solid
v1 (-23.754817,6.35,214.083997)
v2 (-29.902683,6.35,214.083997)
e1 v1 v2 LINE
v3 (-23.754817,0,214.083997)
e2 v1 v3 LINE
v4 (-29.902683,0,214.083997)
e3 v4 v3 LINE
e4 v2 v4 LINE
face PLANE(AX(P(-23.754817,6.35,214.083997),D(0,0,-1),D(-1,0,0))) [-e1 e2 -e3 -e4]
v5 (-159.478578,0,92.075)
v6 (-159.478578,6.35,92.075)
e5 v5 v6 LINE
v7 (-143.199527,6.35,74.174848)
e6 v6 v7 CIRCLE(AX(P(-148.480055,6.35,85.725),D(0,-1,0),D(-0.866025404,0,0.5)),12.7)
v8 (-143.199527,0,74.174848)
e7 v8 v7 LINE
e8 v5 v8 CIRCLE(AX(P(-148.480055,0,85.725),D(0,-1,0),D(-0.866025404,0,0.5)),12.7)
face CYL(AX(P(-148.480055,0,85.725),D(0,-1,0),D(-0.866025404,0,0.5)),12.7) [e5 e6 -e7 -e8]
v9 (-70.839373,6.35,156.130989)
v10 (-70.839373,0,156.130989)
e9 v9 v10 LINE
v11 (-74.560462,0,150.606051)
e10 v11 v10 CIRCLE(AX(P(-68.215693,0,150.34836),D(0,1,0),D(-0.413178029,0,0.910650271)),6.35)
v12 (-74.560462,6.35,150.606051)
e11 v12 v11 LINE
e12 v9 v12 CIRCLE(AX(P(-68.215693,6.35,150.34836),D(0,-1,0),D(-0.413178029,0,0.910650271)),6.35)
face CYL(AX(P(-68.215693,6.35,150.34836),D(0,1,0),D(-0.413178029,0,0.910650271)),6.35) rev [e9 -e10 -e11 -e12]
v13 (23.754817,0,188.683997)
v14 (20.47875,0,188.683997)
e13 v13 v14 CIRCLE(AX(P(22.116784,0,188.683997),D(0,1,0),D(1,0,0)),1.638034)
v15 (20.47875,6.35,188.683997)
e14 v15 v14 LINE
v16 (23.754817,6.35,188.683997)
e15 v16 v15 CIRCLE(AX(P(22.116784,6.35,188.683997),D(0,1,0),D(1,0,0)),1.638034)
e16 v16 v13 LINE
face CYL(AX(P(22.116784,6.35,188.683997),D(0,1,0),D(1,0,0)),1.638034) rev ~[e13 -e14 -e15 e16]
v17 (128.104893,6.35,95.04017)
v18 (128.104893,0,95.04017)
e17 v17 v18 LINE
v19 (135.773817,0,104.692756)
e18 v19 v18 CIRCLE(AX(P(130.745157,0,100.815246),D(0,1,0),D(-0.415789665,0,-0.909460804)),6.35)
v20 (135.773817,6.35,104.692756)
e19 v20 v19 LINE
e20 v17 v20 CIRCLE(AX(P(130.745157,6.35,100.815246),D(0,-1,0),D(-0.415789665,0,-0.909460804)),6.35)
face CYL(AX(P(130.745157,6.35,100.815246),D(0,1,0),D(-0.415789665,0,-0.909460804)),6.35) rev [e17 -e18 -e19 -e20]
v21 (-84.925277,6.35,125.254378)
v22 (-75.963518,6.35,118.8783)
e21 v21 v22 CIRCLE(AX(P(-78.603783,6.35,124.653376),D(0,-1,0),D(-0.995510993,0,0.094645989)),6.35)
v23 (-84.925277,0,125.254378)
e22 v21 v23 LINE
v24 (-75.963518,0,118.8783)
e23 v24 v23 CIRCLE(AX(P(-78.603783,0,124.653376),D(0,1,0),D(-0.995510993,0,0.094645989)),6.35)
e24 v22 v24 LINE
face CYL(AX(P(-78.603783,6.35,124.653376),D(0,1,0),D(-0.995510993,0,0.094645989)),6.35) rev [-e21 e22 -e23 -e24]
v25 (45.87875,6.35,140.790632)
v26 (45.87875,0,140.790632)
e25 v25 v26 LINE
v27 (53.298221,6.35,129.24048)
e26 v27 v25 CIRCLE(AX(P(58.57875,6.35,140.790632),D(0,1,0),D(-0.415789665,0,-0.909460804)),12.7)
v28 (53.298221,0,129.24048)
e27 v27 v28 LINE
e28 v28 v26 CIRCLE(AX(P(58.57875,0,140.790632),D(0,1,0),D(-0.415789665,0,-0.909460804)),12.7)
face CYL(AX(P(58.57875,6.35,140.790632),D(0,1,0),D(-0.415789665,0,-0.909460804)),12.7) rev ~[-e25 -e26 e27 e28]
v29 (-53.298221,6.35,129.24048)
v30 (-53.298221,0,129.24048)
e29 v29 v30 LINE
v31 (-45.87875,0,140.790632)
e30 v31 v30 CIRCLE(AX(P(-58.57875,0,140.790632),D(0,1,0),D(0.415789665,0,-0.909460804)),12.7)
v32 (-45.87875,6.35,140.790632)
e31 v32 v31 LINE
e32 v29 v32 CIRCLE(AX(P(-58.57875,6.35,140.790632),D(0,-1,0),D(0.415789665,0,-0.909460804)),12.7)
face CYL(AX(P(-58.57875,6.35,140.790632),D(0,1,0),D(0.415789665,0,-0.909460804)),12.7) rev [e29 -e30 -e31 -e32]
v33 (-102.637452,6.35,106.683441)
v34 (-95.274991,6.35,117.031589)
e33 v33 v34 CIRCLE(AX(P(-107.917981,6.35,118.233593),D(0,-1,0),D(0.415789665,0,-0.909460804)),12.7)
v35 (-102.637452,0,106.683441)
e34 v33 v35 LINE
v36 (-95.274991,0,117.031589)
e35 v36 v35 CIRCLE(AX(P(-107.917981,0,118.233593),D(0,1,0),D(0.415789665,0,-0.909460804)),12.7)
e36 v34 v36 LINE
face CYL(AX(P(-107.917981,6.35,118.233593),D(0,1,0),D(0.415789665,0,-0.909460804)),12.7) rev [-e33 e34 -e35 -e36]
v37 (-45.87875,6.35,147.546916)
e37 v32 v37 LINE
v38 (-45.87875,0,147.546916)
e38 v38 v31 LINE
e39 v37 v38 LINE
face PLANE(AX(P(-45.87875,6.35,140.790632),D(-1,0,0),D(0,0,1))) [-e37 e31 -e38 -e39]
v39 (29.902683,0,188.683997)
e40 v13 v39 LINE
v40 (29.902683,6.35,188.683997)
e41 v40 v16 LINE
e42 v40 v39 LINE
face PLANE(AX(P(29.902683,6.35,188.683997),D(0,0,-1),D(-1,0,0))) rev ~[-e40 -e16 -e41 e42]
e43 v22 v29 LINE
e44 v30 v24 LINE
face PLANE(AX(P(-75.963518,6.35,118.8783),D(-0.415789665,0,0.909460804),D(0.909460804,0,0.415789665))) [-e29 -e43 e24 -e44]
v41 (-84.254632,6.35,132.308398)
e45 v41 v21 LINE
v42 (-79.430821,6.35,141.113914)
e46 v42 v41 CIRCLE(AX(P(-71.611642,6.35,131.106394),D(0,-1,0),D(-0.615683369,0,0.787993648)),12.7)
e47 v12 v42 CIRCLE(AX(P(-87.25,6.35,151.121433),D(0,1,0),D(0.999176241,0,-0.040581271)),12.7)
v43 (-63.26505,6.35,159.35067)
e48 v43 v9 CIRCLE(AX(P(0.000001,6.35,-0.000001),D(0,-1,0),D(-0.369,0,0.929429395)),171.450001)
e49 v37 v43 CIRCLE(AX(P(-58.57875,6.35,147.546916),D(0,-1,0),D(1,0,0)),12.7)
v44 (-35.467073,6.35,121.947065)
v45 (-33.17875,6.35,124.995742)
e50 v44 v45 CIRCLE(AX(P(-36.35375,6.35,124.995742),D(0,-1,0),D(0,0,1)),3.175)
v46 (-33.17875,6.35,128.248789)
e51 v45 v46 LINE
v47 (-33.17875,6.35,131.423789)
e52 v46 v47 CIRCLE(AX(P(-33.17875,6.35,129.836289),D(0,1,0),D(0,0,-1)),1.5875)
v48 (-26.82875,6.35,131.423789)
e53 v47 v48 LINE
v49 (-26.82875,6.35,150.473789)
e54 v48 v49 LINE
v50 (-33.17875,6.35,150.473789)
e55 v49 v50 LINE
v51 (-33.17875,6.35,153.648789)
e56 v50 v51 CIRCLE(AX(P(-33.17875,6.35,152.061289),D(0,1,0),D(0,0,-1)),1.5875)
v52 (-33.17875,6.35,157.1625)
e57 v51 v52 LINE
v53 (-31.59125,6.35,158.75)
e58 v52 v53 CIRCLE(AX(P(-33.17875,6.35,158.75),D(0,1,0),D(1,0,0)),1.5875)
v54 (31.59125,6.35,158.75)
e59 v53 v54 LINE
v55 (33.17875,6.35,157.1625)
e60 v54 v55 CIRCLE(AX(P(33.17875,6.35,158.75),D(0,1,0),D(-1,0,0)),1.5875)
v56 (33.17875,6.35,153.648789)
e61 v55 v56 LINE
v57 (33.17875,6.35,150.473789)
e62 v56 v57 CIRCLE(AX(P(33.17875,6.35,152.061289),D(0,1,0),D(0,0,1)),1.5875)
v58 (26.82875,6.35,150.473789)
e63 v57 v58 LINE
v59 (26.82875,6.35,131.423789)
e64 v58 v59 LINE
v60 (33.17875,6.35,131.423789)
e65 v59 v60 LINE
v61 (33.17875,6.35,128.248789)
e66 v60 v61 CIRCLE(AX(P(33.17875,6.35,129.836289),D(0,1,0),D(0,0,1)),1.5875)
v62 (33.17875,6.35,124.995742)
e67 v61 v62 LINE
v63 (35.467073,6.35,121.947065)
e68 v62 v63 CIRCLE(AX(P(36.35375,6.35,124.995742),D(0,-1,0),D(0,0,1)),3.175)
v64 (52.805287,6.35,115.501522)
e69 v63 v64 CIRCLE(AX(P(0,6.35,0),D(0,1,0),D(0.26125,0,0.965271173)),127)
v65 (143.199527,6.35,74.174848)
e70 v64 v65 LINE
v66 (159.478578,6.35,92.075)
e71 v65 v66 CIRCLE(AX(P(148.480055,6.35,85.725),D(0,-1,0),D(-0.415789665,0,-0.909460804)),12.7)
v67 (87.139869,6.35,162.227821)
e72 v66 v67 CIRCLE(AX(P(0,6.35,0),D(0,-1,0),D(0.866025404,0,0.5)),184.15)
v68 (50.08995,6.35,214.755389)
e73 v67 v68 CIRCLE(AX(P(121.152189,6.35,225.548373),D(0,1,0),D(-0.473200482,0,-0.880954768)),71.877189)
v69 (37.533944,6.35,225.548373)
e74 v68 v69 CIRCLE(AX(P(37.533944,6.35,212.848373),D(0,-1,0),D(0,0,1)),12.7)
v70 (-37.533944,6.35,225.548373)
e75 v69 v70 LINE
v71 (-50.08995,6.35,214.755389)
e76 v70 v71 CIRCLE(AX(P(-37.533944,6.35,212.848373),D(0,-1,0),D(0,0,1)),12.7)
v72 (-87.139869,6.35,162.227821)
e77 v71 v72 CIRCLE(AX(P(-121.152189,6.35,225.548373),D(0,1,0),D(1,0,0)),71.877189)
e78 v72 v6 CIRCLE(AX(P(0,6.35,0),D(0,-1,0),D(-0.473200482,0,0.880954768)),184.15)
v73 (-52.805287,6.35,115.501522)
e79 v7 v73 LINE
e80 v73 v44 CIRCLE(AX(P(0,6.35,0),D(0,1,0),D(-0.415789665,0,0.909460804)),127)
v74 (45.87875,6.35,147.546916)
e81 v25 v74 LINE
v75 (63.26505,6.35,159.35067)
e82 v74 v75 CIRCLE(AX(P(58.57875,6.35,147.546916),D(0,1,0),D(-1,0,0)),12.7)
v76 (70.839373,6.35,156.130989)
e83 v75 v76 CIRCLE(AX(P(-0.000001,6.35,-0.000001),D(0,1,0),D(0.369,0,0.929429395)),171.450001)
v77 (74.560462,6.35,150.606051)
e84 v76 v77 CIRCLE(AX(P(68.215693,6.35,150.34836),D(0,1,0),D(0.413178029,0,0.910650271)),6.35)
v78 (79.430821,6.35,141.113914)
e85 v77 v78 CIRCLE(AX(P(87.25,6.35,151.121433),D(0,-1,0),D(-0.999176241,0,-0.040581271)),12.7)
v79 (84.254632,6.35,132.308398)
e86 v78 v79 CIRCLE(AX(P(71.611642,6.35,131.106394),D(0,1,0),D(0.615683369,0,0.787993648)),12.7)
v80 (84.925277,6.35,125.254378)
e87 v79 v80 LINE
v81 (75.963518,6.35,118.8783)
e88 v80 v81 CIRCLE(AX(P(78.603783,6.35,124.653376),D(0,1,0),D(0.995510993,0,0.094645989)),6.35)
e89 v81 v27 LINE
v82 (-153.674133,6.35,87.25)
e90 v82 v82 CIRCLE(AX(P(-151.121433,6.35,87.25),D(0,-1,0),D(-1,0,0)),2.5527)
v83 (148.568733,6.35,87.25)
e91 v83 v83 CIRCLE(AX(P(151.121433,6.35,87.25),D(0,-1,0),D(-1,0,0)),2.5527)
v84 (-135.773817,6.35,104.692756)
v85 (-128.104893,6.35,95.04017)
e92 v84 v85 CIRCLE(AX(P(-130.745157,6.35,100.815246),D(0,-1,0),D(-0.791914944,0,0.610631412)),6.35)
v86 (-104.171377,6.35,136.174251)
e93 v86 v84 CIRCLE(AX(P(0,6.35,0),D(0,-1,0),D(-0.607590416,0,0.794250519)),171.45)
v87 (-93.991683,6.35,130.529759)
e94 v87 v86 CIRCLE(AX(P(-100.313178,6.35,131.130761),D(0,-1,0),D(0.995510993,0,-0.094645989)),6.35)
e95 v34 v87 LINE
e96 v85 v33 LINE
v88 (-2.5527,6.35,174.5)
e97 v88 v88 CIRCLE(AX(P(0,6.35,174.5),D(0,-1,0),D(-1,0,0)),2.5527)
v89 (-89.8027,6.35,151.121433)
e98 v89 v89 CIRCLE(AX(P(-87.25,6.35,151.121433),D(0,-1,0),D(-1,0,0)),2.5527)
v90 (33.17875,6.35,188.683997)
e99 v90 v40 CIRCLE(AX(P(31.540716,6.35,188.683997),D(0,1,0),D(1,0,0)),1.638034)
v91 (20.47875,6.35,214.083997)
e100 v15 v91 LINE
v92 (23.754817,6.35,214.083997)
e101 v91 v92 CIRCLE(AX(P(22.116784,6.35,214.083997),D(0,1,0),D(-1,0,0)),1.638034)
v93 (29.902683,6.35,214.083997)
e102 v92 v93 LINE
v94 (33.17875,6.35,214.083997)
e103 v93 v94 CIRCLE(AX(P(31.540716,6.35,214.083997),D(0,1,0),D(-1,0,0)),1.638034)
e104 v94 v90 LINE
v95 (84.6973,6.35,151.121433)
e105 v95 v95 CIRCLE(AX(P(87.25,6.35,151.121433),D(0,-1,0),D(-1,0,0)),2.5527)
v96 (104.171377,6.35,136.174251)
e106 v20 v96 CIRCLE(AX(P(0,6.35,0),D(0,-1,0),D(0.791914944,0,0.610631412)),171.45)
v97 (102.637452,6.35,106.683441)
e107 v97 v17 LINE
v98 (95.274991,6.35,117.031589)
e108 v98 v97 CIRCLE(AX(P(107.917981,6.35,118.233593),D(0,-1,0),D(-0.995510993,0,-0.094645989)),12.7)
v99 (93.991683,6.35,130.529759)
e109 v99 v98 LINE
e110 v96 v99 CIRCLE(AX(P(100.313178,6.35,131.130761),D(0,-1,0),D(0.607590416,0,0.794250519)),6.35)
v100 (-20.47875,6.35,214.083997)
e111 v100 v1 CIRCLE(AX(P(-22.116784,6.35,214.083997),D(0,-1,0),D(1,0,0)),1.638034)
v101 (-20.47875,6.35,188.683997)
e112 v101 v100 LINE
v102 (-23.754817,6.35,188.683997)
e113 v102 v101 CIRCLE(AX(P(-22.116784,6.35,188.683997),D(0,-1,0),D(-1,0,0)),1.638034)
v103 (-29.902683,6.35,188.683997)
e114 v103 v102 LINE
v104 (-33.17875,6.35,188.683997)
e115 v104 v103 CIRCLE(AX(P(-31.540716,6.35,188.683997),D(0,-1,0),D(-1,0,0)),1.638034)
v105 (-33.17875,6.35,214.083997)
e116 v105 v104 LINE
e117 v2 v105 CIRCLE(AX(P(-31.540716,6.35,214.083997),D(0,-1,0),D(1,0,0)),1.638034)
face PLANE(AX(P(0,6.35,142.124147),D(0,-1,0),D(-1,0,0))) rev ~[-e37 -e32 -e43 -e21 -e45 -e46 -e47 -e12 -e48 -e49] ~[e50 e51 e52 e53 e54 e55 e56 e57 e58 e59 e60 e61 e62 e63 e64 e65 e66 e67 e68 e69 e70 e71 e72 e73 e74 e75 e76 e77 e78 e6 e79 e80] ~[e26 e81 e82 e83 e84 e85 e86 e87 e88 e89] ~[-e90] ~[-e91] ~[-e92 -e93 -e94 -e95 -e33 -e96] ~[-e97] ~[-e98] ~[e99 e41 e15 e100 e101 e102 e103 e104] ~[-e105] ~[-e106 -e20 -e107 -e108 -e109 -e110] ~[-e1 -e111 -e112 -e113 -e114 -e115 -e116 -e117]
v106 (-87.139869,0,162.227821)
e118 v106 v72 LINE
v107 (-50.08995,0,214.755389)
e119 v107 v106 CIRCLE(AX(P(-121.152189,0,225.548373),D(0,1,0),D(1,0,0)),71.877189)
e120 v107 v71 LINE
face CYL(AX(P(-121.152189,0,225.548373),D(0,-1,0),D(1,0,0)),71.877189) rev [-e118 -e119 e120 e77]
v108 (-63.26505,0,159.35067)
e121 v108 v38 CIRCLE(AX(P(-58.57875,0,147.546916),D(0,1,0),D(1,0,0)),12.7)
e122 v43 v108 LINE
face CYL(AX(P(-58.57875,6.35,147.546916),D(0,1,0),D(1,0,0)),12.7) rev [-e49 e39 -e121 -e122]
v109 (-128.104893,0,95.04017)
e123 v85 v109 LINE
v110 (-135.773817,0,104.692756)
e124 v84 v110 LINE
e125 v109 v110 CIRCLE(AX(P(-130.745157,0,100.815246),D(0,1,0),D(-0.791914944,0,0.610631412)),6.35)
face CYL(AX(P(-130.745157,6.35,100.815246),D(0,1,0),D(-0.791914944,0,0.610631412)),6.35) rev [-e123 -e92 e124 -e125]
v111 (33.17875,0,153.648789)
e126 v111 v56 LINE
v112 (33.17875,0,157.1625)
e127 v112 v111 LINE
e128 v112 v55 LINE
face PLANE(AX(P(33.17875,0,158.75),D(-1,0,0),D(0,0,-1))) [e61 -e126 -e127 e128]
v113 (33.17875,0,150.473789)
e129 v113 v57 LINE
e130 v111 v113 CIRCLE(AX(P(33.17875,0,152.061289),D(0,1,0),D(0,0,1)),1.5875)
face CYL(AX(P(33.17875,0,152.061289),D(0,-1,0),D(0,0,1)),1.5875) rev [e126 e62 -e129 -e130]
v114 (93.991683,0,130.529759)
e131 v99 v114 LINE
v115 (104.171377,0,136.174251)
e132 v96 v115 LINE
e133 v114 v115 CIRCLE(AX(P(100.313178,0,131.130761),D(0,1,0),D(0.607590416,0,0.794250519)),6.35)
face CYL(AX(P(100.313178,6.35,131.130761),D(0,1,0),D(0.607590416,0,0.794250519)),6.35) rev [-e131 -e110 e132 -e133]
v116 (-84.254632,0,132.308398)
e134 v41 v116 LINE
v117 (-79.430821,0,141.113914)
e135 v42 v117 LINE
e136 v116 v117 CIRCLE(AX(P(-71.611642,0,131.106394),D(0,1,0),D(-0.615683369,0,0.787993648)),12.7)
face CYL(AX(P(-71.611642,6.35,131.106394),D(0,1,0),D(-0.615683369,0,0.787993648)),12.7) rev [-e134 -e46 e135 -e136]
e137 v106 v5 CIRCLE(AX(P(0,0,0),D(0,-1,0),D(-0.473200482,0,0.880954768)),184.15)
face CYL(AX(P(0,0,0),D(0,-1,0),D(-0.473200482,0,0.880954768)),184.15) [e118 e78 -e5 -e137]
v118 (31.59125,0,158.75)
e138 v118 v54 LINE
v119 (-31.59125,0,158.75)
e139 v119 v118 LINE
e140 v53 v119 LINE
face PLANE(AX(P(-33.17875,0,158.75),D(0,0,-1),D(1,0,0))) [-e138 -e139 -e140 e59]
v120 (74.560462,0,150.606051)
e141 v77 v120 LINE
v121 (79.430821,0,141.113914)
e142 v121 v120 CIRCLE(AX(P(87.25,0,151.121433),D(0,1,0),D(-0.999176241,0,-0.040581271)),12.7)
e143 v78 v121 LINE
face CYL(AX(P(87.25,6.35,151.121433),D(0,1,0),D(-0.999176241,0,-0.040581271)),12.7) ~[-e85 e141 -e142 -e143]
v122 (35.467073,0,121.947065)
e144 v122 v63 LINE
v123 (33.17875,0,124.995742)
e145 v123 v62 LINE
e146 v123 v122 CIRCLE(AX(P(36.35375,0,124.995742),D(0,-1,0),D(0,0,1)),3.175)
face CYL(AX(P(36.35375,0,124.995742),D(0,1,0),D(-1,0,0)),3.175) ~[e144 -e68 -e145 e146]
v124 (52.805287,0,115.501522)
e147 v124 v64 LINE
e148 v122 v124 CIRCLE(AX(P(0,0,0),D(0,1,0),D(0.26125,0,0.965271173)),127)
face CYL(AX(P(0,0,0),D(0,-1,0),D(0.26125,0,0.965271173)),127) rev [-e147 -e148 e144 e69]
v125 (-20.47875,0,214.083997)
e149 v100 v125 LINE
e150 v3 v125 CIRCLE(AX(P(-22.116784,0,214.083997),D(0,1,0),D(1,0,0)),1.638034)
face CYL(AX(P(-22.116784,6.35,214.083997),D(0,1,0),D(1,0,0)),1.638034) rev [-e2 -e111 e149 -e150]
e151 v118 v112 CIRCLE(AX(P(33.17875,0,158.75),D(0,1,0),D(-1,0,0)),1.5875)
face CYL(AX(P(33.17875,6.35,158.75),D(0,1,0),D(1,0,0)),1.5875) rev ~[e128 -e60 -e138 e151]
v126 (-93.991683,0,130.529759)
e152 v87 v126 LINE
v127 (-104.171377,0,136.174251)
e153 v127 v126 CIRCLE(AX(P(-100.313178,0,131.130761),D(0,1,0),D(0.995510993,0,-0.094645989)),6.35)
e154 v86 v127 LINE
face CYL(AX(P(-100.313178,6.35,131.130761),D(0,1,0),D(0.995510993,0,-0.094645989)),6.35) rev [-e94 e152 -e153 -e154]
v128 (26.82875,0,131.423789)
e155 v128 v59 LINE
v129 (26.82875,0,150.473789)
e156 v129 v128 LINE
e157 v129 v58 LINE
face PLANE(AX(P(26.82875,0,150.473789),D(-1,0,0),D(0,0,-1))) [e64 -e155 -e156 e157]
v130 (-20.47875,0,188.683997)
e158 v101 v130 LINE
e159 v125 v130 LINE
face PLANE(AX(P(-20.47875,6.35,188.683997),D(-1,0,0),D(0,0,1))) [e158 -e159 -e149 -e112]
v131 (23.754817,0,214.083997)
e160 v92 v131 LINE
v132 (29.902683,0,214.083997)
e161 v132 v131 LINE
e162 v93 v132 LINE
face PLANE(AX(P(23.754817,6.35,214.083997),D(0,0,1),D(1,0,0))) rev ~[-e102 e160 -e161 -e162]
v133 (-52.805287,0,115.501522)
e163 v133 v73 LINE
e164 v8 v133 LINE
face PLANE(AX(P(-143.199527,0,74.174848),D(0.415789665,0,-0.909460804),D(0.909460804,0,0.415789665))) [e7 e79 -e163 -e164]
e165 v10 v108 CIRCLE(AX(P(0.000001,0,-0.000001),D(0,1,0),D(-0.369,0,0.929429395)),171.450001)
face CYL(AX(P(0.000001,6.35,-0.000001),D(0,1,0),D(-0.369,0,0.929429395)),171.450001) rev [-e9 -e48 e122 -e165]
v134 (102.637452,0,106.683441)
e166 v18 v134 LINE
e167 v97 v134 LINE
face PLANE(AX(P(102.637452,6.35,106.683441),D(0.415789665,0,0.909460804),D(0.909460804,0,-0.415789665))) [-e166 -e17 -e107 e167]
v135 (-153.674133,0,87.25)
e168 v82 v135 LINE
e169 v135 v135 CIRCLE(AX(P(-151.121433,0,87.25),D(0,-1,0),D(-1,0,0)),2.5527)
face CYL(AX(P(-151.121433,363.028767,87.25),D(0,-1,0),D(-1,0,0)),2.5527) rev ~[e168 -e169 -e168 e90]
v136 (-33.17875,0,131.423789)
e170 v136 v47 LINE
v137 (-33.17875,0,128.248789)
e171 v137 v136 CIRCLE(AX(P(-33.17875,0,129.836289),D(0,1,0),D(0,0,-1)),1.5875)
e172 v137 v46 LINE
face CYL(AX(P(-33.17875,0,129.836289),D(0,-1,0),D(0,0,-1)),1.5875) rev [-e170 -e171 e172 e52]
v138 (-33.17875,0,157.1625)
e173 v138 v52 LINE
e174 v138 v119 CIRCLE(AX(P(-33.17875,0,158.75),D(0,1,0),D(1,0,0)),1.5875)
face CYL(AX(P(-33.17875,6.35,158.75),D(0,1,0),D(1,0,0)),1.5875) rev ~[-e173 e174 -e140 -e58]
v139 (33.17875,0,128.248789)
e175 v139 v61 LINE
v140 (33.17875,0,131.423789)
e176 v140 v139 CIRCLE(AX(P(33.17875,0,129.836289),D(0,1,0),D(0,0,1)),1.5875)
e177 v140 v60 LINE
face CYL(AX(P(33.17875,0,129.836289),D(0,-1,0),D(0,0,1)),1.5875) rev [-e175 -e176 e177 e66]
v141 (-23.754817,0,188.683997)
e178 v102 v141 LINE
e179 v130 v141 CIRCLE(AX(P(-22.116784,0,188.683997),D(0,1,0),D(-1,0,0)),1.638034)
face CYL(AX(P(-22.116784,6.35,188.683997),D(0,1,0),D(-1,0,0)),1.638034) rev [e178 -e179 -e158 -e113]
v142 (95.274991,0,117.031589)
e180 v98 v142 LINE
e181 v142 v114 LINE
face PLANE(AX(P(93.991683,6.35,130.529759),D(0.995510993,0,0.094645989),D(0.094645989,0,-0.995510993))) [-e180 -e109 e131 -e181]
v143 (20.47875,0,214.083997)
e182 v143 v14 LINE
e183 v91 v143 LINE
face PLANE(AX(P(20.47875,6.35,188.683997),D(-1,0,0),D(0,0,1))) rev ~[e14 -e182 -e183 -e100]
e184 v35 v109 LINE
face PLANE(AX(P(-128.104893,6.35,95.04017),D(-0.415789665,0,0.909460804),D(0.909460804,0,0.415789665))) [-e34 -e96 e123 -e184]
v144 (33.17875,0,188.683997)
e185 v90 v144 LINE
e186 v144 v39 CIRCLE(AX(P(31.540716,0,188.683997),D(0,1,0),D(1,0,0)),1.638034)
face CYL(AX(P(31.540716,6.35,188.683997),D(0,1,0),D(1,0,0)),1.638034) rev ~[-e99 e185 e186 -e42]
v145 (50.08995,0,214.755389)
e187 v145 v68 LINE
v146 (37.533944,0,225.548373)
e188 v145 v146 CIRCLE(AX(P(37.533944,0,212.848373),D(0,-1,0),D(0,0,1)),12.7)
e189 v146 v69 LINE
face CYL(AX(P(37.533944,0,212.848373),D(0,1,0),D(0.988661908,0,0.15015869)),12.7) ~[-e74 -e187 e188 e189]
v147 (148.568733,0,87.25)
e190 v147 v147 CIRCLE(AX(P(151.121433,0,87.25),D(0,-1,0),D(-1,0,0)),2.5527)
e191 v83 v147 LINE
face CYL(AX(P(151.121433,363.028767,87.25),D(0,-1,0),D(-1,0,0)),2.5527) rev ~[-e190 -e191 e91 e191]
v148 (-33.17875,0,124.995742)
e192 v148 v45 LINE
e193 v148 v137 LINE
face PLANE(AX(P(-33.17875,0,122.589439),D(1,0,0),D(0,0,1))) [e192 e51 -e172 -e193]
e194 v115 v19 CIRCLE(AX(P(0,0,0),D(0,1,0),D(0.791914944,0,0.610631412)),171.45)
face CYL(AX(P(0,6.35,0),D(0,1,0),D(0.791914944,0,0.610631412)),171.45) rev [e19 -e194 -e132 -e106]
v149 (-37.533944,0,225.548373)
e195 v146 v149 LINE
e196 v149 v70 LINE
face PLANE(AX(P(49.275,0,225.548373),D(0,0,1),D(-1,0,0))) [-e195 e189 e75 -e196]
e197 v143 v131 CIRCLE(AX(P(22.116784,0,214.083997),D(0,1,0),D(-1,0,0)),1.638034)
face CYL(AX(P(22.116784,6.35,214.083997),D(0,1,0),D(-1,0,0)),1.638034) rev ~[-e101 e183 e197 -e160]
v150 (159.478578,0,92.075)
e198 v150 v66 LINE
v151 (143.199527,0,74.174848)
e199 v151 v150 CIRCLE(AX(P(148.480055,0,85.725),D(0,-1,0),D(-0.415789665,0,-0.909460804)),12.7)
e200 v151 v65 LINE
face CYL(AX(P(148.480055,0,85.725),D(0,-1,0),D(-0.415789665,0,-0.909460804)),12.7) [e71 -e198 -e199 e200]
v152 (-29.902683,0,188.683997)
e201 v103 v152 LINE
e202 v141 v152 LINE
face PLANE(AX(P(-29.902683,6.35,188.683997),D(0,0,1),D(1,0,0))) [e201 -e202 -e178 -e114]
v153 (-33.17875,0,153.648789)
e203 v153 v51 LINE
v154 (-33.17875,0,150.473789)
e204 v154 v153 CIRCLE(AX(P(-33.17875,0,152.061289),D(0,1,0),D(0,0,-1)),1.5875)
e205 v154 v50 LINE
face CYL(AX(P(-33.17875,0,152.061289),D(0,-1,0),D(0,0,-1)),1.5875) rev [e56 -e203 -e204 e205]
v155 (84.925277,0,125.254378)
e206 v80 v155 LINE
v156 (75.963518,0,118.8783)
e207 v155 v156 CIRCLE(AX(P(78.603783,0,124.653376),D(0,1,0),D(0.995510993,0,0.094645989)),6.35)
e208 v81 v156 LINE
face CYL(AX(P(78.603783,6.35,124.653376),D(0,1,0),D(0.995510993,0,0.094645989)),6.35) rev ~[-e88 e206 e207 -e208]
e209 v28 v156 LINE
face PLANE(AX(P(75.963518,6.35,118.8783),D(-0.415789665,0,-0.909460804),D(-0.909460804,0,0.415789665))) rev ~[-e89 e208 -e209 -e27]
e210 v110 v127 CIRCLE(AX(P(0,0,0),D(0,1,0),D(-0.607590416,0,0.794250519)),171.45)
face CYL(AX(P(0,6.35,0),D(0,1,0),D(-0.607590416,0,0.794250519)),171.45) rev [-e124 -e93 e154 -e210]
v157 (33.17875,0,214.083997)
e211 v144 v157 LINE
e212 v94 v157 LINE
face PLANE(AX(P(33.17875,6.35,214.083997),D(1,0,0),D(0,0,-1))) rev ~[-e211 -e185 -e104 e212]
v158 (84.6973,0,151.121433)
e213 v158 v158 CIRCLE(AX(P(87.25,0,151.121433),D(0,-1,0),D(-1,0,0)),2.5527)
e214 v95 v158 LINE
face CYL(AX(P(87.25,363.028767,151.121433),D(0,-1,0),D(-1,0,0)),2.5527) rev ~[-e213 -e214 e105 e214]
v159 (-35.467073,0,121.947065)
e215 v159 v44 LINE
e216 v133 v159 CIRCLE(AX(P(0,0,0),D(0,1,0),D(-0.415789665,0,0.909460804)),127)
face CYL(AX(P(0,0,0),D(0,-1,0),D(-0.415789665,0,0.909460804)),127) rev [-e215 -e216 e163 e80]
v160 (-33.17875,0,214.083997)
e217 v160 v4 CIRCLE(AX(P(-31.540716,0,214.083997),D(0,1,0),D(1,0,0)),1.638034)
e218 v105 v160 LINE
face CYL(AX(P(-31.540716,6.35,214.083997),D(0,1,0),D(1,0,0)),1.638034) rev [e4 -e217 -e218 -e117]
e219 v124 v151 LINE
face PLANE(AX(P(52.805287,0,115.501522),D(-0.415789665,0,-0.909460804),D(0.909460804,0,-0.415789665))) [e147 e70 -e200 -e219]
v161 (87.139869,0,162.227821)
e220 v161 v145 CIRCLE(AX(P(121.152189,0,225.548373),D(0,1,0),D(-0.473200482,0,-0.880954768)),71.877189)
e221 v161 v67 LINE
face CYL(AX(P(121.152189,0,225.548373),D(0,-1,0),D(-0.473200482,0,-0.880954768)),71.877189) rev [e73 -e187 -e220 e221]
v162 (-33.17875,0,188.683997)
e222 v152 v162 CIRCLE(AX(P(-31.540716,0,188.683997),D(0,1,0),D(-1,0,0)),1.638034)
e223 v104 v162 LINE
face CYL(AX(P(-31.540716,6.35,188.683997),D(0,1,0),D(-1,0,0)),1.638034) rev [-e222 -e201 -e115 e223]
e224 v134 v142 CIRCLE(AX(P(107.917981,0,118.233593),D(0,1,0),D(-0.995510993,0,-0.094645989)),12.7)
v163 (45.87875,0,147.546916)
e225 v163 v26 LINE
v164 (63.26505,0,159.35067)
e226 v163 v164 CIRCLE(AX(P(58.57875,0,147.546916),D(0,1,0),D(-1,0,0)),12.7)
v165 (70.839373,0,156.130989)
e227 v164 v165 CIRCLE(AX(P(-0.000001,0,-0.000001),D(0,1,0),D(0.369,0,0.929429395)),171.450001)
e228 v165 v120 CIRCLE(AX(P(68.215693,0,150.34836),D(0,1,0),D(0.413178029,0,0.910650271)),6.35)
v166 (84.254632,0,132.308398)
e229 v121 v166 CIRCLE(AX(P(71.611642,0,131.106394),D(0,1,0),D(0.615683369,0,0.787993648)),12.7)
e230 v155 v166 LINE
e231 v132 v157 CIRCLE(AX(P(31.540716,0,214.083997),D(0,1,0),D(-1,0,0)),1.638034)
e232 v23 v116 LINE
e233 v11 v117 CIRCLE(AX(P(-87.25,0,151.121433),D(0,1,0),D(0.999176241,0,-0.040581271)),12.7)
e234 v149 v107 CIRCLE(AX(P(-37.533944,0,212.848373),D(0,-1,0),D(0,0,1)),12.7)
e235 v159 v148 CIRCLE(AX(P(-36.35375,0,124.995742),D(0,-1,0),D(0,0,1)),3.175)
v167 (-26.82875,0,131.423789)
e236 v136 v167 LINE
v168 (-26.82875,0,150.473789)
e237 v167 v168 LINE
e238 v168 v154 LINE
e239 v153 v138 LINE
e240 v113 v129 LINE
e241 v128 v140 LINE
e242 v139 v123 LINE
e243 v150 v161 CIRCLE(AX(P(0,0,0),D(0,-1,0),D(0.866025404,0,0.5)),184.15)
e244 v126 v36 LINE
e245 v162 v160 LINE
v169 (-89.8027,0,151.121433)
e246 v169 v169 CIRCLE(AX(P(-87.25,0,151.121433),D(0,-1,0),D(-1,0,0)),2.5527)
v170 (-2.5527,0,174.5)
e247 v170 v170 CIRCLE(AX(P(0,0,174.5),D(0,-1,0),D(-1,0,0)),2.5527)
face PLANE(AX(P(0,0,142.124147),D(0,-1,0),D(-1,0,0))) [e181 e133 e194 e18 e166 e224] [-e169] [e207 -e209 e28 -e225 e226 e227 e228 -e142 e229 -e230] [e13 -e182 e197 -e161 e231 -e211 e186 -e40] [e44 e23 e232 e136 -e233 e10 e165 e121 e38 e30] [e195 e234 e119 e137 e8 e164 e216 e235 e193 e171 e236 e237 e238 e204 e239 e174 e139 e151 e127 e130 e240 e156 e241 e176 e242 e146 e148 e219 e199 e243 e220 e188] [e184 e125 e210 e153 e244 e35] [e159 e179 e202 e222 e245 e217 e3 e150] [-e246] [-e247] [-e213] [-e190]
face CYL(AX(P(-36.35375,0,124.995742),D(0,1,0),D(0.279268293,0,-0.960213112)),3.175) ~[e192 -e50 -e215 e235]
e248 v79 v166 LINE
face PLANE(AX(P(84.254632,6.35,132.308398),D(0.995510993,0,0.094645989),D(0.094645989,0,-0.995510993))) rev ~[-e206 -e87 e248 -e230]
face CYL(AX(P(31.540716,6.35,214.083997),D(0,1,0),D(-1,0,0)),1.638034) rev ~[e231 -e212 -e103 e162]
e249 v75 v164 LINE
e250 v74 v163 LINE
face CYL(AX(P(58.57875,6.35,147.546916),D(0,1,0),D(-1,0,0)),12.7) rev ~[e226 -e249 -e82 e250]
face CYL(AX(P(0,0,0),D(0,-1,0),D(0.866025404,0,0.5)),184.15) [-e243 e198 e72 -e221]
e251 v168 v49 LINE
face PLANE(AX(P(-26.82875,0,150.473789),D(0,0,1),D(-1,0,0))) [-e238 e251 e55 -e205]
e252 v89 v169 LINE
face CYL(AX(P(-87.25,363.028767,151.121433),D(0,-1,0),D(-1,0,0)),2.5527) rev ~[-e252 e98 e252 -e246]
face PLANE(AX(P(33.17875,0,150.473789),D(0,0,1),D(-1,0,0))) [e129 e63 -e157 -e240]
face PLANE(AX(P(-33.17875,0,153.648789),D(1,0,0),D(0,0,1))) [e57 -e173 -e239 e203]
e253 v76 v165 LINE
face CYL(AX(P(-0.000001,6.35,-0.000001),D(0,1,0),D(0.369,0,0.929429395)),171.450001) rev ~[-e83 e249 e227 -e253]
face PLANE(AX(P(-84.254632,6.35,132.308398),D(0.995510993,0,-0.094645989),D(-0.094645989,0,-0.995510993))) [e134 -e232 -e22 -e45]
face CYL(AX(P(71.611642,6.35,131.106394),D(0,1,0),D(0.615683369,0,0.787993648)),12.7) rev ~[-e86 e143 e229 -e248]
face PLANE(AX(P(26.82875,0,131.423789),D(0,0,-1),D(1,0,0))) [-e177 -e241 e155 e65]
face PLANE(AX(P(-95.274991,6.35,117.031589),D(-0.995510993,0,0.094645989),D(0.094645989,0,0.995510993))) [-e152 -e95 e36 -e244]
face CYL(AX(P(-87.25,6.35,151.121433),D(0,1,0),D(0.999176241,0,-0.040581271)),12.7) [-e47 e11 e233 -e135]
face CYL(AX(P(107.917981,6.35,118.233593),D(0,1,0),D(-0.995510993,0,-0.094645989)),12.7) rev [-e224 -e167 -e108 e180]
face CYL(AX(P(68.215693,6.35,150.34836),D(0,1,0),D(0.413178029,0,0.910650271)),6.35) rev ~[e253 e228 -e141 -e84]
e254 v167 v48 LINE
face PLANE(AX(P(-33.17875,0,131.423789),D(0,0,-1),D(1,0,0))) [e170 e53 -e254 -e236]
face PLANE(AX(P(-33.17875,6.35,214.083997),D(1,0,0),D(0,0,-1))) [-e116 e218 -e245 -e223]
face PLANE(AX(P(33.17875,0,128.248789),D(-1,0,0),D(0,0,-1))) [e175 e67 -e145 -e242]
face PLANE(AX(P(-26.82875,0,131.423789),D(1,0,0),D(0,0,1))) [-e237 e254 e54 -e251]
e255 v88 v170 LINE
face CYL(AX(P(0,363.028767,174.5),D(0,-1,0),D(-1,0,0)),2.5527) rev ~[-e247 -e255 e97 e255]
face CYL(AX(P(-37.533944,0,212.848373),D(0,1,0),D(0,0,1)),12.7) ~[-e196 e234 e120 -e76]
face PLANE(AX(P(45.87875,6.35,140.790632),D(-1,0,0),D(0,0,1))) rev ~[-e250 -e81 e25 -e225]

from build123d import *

# Parameters (mm, degrees)
BOSS_EXTRUDE1_DEPTH    = 6.35
FILLET4_R              = 3.175
F_10_CLEARANCE_HOLE1_D = 5.1054
CUT_EXTRUDE1_DEPTH     = 278.292988553
FILLET5_R              = 12.7
SKETCH5_R              = 1.5875
CUT_EXTRUDE2_DEPTH     = 278.292988553
CUT_EXTRUDE3_DEPTH     = 278.292988553


with BuildPart() as part:
    # Sketch1 → Boss-Extrude1 (new body)
    with BuildSketch(Plane(origin=(0, 0, 0), x_dir=(1, 0, 0), z_dir=(0, 1, 0))):
        with BuildLine():
            Line((33.17875, -158.75), (33.17875, -153.648789236))
            ThreePointArc((33.17875, -153.648789236), (34.76625, -152.061289236), (33.17875, -150.473789236))
            Line((33.17875, -150.473789236), (26.82875, -150.473789236))
            Line((26.82875, -150.473789236), (26.82875, -131.423789236))
            Line((26.82875, -131.423789236), (33.17875, -131.423789236))
            ThreePointArc((33.17875, -131.423789236), (34.76625, -129.836289236), (33.17875, -128.248789236))
            Line((33.17875, -128.248789236), (33.17875, -122.589438976))
            ThreePointArc((33.17875, -122.589438976), (43.137840894, -119.449264054), (52.805287488, -115.501522126))
            Line((52.805287488, -115.501522126), (143.19952673, -74.174847787))
            ThreePointArc((143.19952673, -74.174847787), (157.875678173, -77.180277992), (159.478578107, -92.075))
            ThreePointArc((159.478578107, -92.075), (128.201088688, -132.195700986), (87.13986874, -162.227820598))
            ThreePointArc((87.13986874, -162.227820598), (59.463291006, -188.659212722), (49.275, -225.54837334))
            Line((49.275, -225.54837334), (-49.275, -225.54837334))
            ThreePointArc((-49.275, -225.54837334), (-59.463291006, -188.659212722), (-87.13986874, -162.227820598))
            ThreePointArc((-87.13986874, -162.227820598), (-128.201088688, -132.195700986), (-159.478578107, -92.075))
            ThreePointArc((-159.478578107, -92.075), (-157.875678173, -77.180277992), (-143.19952673, -74.174847787))
            Line((-143.19952673, -74.174847787), (-52.805287488, -115.501522126))
            ThreePointArc((-52.805287488, -115.501522126), (-43.137840894, -119.449264054), (-33.17875, -122.589438976))
            Line((-33.17875, -122.589438976), (-33.17875, -128.248789236))
            ThreePointArc((-33.17875, -128.248789236), (-34.76625, -129.836289236), (-33.17875, -131.423789236))
            Line((-33.17875, -131.423789236), (-26.82875, -131.423789236))
            Line((-26.82875, -131.423789236), (-26.82875, -150.473789236))
            Line((-26.82875, -150.473789236), (-33.17875, -150.473789236))
            ThreePointArc((-33.17875, -150.473789236), (-34.76625, -152.061289236), (-33.17875, -153.648789236))
            Line((-33.17875, -153.648789236), (-33.17875, -158.75))
            Line((-33.17875, -158.75), (33.17875, -158.75))
        make_face()
    extrude(amount=BOSS_EXTRUDE1_DEPTH)

    # Fillet4
    fillet4_edges = [part.edges().sort_by_distance(p)[0] for p in [
        (33.17875, 3.175, 122.589438976),
        (-33.17875, 3.175, 122.589438976),
    ]]
    fillet(fillet4_edges, radius=FILLET4_R)

    # #10 Clearance Hole1 (through all)
    with Locations(Plane(origin=(0, 6.35, 0), x_dir=(1, 0, 0), z_dir=(0, 1, 0))):
        with Locations((-151.12143296, -87.25), (-87.25, -151.12143296), (87.25, -151.12143296), (151.12143296, -87.25), (0, -174.5)):
            Hole(F_10_CLEARANCE_HOLE1_D / 2)

    # Sketch4 → Cut-Extrude1 (cut, through all)
    with BuildSketch(Plane(origin=(0, 6.35, 0), x_dir=(1, 0, 0), z_dir=(0, 1, 0))):
        with BuildLine():
            Line((-23.754817001, -214.08399668), (-29.902682999, -214.08399668))
            ThreePointArc((-29.902682999, -214.08399668), (-31.540716499, -215.722030181), (-33.17875, -214.08399668))
            Line((-33.17875, -214.08399668), (-33.17875, -188.68399668))
            ThreePointArc((-33.17875, -188.68399668), (-31.540716499, -187.045963179), (-29.902682999, -188.68399668))
            Line((-29.902682999, -188.68399668), (-23.754817001, -188.68399668))
            ThreePointArc((-23.754817001, -188.68399668), (-22.116783501, -187.045963179), (-20.47875, -188.68399668))
            Line((-20.47875, -188.68399668), (-20.47875, -214.08399668))
            ThreePointArc((-20.47875, -214.08399668), (-22.116783501, -215.722030181), (-23.754817001, -214.08399668))
        make_face()
        with BuildLine():
            Line((23.754817001, -214.08399668), (29.902682999, -214.08399668))
            ThreePointArc((29.902682999, -214.08399668), (31.540716499, -215.722030181), (33.17875, -214.08399668))
            Line((33.17875, -214.08399668), (33.17875, -188.68399668))
            ThreePointArc((33.17875, -188.68399668), (31.540716499, -187.045963179), (29.902682999, -188.68399668))
            Line((29.902682999, -188.68399668), (23.754817001, -188.68399668))
            ThreePointArc((23.754817001, -188.68399668), (22.116783501, -187.045963179), (20.47875, -188.68399668))
            Line((20.47875, -188.68399668), (20.47875, -214.08399668))
            ThreePointArc((20.47875, -214.08399668), (22.116783501, -215.722030181), (23.754817001, -214.08399668))
        make_face()
    extrude(amount=-CUT_EXTRUDE1_DEPTH, mode=Mode.SUBTRACT)

    # Fillet5
    fillet5_edges = [part.edges().sort_by_distance(p)[0] for p in [
        (-49.275, 3.175, 225.54837334),
        (49.275, 3.175, 225.54837334),
    ]]
    fillet(fillet5_edges, radius=FILLET5_R)

    # Sketch5 → Cut-Extrude2 (cut, through all)
    with BuildSketch(Plane(origin=(0, 6.35, 0), x_dir=(1, 0, 0), z_dir=(0, 1, 0))):
        with Locations((33.17875, -158.75)):
            Circle(SKETCH5_R)
        with Locations((-33.17875, -158.75)):
            Circle(SKETCH5_R)
    extrude(amount=-CUT_EXTRUDE2_DEPTH, mode=Mode.SUBTRACT)

    # Sketch6 → Cut-Extrude3 (cut, through all)
    with BuildSketch(Plane(origin=(0, 6.35, 0), x_dir=(1, 0, 0), z_dir=(0, 1, 0))):
        with BuildLine():
            Line((-128.104892872, -95.040170045), (-102.637452085, -106.683441126))
            ThreePointArc((-102.637452085, -106.683441126), (-97.569832685, -110.871132479), (-95.274991225, -117.031589274))
            Line((-95.274991225, -117.031589274), (-93.991682853, -130.529758616))
            ThreePointArc((-93.991682853, -130.529758616), (-97.23388696, -136.684180208), (-104.171376798, -136.174251443))
            ThreePointArc((-104.171376798, -136.174251443), (-121.000806478, -121.465663179), (-135.773817141, -104.692755619))
            ThreePointArc((-135.773817141, -104.692755619), (-135.716998993, -96.865146197), (-128.104892872, -95.040170045))
        make_face()
        with BuildLine():
            Line((75.963518128, -118.878299904), (53.298221251, -129.240479515))
            ThreePointArc((53.298221251, -129.240479515), (47.89341624, -133.926693904), (45.87875, -140.790631728))
            Line((45.87875, -140.790631728), (45.87875, -147.546916431))
            ThreePointArc((45.87875, -147.546916431), (51.445237892, -158.054199858), (63.26505, -159.350669746))
            ThreePointArc((63.26505, -159.350669746), (67.071533898, -157.786285337), (70.839373095, -156.130988979))
            ThreePointArc((70.839373095, -156.130988979), (73.48252349, -153.895611155), (74.56046174, -150.606050825))
            ThreePointArc((74.56046174, -150.606050825), (75.950573651, -145.323764103), (79.430821218, -141.113913629))
            ThreePointArc((79.430821218, -141.113913629), (82.749836121, -137.208085982), (84.254632043, -132.308398362))
            Line((84.254632043, -132.308398362), (84.925277307, -125.254378043))
            ThreePointArc((84.925277307, -125.254378043), (82.285012932, -119.479301937), (75.963518128, -118.878299904))
        make_face()
        with BuildLine():
            Line((93.991682853, -130.529758616), (95.274991225, -117.031589274))
            ThreePointArc((95.274991225, -117.031589274), (97.569832685, -110.871132479), (102.637452085, -106.683441126))
            Line((102.637452085, -106.683441126), (128.104892872, -95.040170045))
            ThreePointArc((128.104892872, -95.040170045), (135.716998993, -96.865146197), (135.773817141, -104.692755619))
            ThreePointArc((135.773817141, -104.692755619), (121.000806478, -121.465663179), (104.171376798, -136.174251443))
            ThreePointArc((104.171376798, -136.174251443), (97.23388696, -136.684180208), (93.991682853, -130.529758616))
        make_face()
        with BuildLine():
            Line((-45.87875, -140.790631728), (-45.87875, -147.546916431))
            ThreePointArc((-45.87875, -147.546916431), (-51.445237892, -158.054199858), (-63.26505, -159.350669746))
            ThreePointArc((-63.26505, -159.350669746), (-67.071533898, -157.786285337), (-70.839373095, -156.130988979))
            ThreePointArc((-70.839373095, -156.130988979), (-73.48252349, -153.895611155), (-74.56046174, -150.606050825))
            ThreePointArc((-74.56046174, -150.606050825), (-75.950573651, -145.323764103), (-79.430821218, -141.113913629))
            ThreePointArc((-79.430821218, -141.113913629), (-82.749836121, -137.208085982), (-84.254632043, -132.308398362))
            Line((-84.254632043, -132.308398362), (-84.925277307, -125.254378043))
            ThreePointArc((-84.925277307, -125.254378043), (-82.285012932, -119.479301937), (-75.963518128, -118.878299904))
            Line((-75.963518128, -118.878299904), (-53.298221251, -129.240479515))
            ThreePointArc((-53.298221251, -129.240479515), (-47.89341624, -133.926693904), (-45.87875, -140.790631728))
        make_face()
    extrude(amount=-CUT_EXTRUDE3_DEPTH, mode=Mode.SUBTRACT)


solid = part.part
